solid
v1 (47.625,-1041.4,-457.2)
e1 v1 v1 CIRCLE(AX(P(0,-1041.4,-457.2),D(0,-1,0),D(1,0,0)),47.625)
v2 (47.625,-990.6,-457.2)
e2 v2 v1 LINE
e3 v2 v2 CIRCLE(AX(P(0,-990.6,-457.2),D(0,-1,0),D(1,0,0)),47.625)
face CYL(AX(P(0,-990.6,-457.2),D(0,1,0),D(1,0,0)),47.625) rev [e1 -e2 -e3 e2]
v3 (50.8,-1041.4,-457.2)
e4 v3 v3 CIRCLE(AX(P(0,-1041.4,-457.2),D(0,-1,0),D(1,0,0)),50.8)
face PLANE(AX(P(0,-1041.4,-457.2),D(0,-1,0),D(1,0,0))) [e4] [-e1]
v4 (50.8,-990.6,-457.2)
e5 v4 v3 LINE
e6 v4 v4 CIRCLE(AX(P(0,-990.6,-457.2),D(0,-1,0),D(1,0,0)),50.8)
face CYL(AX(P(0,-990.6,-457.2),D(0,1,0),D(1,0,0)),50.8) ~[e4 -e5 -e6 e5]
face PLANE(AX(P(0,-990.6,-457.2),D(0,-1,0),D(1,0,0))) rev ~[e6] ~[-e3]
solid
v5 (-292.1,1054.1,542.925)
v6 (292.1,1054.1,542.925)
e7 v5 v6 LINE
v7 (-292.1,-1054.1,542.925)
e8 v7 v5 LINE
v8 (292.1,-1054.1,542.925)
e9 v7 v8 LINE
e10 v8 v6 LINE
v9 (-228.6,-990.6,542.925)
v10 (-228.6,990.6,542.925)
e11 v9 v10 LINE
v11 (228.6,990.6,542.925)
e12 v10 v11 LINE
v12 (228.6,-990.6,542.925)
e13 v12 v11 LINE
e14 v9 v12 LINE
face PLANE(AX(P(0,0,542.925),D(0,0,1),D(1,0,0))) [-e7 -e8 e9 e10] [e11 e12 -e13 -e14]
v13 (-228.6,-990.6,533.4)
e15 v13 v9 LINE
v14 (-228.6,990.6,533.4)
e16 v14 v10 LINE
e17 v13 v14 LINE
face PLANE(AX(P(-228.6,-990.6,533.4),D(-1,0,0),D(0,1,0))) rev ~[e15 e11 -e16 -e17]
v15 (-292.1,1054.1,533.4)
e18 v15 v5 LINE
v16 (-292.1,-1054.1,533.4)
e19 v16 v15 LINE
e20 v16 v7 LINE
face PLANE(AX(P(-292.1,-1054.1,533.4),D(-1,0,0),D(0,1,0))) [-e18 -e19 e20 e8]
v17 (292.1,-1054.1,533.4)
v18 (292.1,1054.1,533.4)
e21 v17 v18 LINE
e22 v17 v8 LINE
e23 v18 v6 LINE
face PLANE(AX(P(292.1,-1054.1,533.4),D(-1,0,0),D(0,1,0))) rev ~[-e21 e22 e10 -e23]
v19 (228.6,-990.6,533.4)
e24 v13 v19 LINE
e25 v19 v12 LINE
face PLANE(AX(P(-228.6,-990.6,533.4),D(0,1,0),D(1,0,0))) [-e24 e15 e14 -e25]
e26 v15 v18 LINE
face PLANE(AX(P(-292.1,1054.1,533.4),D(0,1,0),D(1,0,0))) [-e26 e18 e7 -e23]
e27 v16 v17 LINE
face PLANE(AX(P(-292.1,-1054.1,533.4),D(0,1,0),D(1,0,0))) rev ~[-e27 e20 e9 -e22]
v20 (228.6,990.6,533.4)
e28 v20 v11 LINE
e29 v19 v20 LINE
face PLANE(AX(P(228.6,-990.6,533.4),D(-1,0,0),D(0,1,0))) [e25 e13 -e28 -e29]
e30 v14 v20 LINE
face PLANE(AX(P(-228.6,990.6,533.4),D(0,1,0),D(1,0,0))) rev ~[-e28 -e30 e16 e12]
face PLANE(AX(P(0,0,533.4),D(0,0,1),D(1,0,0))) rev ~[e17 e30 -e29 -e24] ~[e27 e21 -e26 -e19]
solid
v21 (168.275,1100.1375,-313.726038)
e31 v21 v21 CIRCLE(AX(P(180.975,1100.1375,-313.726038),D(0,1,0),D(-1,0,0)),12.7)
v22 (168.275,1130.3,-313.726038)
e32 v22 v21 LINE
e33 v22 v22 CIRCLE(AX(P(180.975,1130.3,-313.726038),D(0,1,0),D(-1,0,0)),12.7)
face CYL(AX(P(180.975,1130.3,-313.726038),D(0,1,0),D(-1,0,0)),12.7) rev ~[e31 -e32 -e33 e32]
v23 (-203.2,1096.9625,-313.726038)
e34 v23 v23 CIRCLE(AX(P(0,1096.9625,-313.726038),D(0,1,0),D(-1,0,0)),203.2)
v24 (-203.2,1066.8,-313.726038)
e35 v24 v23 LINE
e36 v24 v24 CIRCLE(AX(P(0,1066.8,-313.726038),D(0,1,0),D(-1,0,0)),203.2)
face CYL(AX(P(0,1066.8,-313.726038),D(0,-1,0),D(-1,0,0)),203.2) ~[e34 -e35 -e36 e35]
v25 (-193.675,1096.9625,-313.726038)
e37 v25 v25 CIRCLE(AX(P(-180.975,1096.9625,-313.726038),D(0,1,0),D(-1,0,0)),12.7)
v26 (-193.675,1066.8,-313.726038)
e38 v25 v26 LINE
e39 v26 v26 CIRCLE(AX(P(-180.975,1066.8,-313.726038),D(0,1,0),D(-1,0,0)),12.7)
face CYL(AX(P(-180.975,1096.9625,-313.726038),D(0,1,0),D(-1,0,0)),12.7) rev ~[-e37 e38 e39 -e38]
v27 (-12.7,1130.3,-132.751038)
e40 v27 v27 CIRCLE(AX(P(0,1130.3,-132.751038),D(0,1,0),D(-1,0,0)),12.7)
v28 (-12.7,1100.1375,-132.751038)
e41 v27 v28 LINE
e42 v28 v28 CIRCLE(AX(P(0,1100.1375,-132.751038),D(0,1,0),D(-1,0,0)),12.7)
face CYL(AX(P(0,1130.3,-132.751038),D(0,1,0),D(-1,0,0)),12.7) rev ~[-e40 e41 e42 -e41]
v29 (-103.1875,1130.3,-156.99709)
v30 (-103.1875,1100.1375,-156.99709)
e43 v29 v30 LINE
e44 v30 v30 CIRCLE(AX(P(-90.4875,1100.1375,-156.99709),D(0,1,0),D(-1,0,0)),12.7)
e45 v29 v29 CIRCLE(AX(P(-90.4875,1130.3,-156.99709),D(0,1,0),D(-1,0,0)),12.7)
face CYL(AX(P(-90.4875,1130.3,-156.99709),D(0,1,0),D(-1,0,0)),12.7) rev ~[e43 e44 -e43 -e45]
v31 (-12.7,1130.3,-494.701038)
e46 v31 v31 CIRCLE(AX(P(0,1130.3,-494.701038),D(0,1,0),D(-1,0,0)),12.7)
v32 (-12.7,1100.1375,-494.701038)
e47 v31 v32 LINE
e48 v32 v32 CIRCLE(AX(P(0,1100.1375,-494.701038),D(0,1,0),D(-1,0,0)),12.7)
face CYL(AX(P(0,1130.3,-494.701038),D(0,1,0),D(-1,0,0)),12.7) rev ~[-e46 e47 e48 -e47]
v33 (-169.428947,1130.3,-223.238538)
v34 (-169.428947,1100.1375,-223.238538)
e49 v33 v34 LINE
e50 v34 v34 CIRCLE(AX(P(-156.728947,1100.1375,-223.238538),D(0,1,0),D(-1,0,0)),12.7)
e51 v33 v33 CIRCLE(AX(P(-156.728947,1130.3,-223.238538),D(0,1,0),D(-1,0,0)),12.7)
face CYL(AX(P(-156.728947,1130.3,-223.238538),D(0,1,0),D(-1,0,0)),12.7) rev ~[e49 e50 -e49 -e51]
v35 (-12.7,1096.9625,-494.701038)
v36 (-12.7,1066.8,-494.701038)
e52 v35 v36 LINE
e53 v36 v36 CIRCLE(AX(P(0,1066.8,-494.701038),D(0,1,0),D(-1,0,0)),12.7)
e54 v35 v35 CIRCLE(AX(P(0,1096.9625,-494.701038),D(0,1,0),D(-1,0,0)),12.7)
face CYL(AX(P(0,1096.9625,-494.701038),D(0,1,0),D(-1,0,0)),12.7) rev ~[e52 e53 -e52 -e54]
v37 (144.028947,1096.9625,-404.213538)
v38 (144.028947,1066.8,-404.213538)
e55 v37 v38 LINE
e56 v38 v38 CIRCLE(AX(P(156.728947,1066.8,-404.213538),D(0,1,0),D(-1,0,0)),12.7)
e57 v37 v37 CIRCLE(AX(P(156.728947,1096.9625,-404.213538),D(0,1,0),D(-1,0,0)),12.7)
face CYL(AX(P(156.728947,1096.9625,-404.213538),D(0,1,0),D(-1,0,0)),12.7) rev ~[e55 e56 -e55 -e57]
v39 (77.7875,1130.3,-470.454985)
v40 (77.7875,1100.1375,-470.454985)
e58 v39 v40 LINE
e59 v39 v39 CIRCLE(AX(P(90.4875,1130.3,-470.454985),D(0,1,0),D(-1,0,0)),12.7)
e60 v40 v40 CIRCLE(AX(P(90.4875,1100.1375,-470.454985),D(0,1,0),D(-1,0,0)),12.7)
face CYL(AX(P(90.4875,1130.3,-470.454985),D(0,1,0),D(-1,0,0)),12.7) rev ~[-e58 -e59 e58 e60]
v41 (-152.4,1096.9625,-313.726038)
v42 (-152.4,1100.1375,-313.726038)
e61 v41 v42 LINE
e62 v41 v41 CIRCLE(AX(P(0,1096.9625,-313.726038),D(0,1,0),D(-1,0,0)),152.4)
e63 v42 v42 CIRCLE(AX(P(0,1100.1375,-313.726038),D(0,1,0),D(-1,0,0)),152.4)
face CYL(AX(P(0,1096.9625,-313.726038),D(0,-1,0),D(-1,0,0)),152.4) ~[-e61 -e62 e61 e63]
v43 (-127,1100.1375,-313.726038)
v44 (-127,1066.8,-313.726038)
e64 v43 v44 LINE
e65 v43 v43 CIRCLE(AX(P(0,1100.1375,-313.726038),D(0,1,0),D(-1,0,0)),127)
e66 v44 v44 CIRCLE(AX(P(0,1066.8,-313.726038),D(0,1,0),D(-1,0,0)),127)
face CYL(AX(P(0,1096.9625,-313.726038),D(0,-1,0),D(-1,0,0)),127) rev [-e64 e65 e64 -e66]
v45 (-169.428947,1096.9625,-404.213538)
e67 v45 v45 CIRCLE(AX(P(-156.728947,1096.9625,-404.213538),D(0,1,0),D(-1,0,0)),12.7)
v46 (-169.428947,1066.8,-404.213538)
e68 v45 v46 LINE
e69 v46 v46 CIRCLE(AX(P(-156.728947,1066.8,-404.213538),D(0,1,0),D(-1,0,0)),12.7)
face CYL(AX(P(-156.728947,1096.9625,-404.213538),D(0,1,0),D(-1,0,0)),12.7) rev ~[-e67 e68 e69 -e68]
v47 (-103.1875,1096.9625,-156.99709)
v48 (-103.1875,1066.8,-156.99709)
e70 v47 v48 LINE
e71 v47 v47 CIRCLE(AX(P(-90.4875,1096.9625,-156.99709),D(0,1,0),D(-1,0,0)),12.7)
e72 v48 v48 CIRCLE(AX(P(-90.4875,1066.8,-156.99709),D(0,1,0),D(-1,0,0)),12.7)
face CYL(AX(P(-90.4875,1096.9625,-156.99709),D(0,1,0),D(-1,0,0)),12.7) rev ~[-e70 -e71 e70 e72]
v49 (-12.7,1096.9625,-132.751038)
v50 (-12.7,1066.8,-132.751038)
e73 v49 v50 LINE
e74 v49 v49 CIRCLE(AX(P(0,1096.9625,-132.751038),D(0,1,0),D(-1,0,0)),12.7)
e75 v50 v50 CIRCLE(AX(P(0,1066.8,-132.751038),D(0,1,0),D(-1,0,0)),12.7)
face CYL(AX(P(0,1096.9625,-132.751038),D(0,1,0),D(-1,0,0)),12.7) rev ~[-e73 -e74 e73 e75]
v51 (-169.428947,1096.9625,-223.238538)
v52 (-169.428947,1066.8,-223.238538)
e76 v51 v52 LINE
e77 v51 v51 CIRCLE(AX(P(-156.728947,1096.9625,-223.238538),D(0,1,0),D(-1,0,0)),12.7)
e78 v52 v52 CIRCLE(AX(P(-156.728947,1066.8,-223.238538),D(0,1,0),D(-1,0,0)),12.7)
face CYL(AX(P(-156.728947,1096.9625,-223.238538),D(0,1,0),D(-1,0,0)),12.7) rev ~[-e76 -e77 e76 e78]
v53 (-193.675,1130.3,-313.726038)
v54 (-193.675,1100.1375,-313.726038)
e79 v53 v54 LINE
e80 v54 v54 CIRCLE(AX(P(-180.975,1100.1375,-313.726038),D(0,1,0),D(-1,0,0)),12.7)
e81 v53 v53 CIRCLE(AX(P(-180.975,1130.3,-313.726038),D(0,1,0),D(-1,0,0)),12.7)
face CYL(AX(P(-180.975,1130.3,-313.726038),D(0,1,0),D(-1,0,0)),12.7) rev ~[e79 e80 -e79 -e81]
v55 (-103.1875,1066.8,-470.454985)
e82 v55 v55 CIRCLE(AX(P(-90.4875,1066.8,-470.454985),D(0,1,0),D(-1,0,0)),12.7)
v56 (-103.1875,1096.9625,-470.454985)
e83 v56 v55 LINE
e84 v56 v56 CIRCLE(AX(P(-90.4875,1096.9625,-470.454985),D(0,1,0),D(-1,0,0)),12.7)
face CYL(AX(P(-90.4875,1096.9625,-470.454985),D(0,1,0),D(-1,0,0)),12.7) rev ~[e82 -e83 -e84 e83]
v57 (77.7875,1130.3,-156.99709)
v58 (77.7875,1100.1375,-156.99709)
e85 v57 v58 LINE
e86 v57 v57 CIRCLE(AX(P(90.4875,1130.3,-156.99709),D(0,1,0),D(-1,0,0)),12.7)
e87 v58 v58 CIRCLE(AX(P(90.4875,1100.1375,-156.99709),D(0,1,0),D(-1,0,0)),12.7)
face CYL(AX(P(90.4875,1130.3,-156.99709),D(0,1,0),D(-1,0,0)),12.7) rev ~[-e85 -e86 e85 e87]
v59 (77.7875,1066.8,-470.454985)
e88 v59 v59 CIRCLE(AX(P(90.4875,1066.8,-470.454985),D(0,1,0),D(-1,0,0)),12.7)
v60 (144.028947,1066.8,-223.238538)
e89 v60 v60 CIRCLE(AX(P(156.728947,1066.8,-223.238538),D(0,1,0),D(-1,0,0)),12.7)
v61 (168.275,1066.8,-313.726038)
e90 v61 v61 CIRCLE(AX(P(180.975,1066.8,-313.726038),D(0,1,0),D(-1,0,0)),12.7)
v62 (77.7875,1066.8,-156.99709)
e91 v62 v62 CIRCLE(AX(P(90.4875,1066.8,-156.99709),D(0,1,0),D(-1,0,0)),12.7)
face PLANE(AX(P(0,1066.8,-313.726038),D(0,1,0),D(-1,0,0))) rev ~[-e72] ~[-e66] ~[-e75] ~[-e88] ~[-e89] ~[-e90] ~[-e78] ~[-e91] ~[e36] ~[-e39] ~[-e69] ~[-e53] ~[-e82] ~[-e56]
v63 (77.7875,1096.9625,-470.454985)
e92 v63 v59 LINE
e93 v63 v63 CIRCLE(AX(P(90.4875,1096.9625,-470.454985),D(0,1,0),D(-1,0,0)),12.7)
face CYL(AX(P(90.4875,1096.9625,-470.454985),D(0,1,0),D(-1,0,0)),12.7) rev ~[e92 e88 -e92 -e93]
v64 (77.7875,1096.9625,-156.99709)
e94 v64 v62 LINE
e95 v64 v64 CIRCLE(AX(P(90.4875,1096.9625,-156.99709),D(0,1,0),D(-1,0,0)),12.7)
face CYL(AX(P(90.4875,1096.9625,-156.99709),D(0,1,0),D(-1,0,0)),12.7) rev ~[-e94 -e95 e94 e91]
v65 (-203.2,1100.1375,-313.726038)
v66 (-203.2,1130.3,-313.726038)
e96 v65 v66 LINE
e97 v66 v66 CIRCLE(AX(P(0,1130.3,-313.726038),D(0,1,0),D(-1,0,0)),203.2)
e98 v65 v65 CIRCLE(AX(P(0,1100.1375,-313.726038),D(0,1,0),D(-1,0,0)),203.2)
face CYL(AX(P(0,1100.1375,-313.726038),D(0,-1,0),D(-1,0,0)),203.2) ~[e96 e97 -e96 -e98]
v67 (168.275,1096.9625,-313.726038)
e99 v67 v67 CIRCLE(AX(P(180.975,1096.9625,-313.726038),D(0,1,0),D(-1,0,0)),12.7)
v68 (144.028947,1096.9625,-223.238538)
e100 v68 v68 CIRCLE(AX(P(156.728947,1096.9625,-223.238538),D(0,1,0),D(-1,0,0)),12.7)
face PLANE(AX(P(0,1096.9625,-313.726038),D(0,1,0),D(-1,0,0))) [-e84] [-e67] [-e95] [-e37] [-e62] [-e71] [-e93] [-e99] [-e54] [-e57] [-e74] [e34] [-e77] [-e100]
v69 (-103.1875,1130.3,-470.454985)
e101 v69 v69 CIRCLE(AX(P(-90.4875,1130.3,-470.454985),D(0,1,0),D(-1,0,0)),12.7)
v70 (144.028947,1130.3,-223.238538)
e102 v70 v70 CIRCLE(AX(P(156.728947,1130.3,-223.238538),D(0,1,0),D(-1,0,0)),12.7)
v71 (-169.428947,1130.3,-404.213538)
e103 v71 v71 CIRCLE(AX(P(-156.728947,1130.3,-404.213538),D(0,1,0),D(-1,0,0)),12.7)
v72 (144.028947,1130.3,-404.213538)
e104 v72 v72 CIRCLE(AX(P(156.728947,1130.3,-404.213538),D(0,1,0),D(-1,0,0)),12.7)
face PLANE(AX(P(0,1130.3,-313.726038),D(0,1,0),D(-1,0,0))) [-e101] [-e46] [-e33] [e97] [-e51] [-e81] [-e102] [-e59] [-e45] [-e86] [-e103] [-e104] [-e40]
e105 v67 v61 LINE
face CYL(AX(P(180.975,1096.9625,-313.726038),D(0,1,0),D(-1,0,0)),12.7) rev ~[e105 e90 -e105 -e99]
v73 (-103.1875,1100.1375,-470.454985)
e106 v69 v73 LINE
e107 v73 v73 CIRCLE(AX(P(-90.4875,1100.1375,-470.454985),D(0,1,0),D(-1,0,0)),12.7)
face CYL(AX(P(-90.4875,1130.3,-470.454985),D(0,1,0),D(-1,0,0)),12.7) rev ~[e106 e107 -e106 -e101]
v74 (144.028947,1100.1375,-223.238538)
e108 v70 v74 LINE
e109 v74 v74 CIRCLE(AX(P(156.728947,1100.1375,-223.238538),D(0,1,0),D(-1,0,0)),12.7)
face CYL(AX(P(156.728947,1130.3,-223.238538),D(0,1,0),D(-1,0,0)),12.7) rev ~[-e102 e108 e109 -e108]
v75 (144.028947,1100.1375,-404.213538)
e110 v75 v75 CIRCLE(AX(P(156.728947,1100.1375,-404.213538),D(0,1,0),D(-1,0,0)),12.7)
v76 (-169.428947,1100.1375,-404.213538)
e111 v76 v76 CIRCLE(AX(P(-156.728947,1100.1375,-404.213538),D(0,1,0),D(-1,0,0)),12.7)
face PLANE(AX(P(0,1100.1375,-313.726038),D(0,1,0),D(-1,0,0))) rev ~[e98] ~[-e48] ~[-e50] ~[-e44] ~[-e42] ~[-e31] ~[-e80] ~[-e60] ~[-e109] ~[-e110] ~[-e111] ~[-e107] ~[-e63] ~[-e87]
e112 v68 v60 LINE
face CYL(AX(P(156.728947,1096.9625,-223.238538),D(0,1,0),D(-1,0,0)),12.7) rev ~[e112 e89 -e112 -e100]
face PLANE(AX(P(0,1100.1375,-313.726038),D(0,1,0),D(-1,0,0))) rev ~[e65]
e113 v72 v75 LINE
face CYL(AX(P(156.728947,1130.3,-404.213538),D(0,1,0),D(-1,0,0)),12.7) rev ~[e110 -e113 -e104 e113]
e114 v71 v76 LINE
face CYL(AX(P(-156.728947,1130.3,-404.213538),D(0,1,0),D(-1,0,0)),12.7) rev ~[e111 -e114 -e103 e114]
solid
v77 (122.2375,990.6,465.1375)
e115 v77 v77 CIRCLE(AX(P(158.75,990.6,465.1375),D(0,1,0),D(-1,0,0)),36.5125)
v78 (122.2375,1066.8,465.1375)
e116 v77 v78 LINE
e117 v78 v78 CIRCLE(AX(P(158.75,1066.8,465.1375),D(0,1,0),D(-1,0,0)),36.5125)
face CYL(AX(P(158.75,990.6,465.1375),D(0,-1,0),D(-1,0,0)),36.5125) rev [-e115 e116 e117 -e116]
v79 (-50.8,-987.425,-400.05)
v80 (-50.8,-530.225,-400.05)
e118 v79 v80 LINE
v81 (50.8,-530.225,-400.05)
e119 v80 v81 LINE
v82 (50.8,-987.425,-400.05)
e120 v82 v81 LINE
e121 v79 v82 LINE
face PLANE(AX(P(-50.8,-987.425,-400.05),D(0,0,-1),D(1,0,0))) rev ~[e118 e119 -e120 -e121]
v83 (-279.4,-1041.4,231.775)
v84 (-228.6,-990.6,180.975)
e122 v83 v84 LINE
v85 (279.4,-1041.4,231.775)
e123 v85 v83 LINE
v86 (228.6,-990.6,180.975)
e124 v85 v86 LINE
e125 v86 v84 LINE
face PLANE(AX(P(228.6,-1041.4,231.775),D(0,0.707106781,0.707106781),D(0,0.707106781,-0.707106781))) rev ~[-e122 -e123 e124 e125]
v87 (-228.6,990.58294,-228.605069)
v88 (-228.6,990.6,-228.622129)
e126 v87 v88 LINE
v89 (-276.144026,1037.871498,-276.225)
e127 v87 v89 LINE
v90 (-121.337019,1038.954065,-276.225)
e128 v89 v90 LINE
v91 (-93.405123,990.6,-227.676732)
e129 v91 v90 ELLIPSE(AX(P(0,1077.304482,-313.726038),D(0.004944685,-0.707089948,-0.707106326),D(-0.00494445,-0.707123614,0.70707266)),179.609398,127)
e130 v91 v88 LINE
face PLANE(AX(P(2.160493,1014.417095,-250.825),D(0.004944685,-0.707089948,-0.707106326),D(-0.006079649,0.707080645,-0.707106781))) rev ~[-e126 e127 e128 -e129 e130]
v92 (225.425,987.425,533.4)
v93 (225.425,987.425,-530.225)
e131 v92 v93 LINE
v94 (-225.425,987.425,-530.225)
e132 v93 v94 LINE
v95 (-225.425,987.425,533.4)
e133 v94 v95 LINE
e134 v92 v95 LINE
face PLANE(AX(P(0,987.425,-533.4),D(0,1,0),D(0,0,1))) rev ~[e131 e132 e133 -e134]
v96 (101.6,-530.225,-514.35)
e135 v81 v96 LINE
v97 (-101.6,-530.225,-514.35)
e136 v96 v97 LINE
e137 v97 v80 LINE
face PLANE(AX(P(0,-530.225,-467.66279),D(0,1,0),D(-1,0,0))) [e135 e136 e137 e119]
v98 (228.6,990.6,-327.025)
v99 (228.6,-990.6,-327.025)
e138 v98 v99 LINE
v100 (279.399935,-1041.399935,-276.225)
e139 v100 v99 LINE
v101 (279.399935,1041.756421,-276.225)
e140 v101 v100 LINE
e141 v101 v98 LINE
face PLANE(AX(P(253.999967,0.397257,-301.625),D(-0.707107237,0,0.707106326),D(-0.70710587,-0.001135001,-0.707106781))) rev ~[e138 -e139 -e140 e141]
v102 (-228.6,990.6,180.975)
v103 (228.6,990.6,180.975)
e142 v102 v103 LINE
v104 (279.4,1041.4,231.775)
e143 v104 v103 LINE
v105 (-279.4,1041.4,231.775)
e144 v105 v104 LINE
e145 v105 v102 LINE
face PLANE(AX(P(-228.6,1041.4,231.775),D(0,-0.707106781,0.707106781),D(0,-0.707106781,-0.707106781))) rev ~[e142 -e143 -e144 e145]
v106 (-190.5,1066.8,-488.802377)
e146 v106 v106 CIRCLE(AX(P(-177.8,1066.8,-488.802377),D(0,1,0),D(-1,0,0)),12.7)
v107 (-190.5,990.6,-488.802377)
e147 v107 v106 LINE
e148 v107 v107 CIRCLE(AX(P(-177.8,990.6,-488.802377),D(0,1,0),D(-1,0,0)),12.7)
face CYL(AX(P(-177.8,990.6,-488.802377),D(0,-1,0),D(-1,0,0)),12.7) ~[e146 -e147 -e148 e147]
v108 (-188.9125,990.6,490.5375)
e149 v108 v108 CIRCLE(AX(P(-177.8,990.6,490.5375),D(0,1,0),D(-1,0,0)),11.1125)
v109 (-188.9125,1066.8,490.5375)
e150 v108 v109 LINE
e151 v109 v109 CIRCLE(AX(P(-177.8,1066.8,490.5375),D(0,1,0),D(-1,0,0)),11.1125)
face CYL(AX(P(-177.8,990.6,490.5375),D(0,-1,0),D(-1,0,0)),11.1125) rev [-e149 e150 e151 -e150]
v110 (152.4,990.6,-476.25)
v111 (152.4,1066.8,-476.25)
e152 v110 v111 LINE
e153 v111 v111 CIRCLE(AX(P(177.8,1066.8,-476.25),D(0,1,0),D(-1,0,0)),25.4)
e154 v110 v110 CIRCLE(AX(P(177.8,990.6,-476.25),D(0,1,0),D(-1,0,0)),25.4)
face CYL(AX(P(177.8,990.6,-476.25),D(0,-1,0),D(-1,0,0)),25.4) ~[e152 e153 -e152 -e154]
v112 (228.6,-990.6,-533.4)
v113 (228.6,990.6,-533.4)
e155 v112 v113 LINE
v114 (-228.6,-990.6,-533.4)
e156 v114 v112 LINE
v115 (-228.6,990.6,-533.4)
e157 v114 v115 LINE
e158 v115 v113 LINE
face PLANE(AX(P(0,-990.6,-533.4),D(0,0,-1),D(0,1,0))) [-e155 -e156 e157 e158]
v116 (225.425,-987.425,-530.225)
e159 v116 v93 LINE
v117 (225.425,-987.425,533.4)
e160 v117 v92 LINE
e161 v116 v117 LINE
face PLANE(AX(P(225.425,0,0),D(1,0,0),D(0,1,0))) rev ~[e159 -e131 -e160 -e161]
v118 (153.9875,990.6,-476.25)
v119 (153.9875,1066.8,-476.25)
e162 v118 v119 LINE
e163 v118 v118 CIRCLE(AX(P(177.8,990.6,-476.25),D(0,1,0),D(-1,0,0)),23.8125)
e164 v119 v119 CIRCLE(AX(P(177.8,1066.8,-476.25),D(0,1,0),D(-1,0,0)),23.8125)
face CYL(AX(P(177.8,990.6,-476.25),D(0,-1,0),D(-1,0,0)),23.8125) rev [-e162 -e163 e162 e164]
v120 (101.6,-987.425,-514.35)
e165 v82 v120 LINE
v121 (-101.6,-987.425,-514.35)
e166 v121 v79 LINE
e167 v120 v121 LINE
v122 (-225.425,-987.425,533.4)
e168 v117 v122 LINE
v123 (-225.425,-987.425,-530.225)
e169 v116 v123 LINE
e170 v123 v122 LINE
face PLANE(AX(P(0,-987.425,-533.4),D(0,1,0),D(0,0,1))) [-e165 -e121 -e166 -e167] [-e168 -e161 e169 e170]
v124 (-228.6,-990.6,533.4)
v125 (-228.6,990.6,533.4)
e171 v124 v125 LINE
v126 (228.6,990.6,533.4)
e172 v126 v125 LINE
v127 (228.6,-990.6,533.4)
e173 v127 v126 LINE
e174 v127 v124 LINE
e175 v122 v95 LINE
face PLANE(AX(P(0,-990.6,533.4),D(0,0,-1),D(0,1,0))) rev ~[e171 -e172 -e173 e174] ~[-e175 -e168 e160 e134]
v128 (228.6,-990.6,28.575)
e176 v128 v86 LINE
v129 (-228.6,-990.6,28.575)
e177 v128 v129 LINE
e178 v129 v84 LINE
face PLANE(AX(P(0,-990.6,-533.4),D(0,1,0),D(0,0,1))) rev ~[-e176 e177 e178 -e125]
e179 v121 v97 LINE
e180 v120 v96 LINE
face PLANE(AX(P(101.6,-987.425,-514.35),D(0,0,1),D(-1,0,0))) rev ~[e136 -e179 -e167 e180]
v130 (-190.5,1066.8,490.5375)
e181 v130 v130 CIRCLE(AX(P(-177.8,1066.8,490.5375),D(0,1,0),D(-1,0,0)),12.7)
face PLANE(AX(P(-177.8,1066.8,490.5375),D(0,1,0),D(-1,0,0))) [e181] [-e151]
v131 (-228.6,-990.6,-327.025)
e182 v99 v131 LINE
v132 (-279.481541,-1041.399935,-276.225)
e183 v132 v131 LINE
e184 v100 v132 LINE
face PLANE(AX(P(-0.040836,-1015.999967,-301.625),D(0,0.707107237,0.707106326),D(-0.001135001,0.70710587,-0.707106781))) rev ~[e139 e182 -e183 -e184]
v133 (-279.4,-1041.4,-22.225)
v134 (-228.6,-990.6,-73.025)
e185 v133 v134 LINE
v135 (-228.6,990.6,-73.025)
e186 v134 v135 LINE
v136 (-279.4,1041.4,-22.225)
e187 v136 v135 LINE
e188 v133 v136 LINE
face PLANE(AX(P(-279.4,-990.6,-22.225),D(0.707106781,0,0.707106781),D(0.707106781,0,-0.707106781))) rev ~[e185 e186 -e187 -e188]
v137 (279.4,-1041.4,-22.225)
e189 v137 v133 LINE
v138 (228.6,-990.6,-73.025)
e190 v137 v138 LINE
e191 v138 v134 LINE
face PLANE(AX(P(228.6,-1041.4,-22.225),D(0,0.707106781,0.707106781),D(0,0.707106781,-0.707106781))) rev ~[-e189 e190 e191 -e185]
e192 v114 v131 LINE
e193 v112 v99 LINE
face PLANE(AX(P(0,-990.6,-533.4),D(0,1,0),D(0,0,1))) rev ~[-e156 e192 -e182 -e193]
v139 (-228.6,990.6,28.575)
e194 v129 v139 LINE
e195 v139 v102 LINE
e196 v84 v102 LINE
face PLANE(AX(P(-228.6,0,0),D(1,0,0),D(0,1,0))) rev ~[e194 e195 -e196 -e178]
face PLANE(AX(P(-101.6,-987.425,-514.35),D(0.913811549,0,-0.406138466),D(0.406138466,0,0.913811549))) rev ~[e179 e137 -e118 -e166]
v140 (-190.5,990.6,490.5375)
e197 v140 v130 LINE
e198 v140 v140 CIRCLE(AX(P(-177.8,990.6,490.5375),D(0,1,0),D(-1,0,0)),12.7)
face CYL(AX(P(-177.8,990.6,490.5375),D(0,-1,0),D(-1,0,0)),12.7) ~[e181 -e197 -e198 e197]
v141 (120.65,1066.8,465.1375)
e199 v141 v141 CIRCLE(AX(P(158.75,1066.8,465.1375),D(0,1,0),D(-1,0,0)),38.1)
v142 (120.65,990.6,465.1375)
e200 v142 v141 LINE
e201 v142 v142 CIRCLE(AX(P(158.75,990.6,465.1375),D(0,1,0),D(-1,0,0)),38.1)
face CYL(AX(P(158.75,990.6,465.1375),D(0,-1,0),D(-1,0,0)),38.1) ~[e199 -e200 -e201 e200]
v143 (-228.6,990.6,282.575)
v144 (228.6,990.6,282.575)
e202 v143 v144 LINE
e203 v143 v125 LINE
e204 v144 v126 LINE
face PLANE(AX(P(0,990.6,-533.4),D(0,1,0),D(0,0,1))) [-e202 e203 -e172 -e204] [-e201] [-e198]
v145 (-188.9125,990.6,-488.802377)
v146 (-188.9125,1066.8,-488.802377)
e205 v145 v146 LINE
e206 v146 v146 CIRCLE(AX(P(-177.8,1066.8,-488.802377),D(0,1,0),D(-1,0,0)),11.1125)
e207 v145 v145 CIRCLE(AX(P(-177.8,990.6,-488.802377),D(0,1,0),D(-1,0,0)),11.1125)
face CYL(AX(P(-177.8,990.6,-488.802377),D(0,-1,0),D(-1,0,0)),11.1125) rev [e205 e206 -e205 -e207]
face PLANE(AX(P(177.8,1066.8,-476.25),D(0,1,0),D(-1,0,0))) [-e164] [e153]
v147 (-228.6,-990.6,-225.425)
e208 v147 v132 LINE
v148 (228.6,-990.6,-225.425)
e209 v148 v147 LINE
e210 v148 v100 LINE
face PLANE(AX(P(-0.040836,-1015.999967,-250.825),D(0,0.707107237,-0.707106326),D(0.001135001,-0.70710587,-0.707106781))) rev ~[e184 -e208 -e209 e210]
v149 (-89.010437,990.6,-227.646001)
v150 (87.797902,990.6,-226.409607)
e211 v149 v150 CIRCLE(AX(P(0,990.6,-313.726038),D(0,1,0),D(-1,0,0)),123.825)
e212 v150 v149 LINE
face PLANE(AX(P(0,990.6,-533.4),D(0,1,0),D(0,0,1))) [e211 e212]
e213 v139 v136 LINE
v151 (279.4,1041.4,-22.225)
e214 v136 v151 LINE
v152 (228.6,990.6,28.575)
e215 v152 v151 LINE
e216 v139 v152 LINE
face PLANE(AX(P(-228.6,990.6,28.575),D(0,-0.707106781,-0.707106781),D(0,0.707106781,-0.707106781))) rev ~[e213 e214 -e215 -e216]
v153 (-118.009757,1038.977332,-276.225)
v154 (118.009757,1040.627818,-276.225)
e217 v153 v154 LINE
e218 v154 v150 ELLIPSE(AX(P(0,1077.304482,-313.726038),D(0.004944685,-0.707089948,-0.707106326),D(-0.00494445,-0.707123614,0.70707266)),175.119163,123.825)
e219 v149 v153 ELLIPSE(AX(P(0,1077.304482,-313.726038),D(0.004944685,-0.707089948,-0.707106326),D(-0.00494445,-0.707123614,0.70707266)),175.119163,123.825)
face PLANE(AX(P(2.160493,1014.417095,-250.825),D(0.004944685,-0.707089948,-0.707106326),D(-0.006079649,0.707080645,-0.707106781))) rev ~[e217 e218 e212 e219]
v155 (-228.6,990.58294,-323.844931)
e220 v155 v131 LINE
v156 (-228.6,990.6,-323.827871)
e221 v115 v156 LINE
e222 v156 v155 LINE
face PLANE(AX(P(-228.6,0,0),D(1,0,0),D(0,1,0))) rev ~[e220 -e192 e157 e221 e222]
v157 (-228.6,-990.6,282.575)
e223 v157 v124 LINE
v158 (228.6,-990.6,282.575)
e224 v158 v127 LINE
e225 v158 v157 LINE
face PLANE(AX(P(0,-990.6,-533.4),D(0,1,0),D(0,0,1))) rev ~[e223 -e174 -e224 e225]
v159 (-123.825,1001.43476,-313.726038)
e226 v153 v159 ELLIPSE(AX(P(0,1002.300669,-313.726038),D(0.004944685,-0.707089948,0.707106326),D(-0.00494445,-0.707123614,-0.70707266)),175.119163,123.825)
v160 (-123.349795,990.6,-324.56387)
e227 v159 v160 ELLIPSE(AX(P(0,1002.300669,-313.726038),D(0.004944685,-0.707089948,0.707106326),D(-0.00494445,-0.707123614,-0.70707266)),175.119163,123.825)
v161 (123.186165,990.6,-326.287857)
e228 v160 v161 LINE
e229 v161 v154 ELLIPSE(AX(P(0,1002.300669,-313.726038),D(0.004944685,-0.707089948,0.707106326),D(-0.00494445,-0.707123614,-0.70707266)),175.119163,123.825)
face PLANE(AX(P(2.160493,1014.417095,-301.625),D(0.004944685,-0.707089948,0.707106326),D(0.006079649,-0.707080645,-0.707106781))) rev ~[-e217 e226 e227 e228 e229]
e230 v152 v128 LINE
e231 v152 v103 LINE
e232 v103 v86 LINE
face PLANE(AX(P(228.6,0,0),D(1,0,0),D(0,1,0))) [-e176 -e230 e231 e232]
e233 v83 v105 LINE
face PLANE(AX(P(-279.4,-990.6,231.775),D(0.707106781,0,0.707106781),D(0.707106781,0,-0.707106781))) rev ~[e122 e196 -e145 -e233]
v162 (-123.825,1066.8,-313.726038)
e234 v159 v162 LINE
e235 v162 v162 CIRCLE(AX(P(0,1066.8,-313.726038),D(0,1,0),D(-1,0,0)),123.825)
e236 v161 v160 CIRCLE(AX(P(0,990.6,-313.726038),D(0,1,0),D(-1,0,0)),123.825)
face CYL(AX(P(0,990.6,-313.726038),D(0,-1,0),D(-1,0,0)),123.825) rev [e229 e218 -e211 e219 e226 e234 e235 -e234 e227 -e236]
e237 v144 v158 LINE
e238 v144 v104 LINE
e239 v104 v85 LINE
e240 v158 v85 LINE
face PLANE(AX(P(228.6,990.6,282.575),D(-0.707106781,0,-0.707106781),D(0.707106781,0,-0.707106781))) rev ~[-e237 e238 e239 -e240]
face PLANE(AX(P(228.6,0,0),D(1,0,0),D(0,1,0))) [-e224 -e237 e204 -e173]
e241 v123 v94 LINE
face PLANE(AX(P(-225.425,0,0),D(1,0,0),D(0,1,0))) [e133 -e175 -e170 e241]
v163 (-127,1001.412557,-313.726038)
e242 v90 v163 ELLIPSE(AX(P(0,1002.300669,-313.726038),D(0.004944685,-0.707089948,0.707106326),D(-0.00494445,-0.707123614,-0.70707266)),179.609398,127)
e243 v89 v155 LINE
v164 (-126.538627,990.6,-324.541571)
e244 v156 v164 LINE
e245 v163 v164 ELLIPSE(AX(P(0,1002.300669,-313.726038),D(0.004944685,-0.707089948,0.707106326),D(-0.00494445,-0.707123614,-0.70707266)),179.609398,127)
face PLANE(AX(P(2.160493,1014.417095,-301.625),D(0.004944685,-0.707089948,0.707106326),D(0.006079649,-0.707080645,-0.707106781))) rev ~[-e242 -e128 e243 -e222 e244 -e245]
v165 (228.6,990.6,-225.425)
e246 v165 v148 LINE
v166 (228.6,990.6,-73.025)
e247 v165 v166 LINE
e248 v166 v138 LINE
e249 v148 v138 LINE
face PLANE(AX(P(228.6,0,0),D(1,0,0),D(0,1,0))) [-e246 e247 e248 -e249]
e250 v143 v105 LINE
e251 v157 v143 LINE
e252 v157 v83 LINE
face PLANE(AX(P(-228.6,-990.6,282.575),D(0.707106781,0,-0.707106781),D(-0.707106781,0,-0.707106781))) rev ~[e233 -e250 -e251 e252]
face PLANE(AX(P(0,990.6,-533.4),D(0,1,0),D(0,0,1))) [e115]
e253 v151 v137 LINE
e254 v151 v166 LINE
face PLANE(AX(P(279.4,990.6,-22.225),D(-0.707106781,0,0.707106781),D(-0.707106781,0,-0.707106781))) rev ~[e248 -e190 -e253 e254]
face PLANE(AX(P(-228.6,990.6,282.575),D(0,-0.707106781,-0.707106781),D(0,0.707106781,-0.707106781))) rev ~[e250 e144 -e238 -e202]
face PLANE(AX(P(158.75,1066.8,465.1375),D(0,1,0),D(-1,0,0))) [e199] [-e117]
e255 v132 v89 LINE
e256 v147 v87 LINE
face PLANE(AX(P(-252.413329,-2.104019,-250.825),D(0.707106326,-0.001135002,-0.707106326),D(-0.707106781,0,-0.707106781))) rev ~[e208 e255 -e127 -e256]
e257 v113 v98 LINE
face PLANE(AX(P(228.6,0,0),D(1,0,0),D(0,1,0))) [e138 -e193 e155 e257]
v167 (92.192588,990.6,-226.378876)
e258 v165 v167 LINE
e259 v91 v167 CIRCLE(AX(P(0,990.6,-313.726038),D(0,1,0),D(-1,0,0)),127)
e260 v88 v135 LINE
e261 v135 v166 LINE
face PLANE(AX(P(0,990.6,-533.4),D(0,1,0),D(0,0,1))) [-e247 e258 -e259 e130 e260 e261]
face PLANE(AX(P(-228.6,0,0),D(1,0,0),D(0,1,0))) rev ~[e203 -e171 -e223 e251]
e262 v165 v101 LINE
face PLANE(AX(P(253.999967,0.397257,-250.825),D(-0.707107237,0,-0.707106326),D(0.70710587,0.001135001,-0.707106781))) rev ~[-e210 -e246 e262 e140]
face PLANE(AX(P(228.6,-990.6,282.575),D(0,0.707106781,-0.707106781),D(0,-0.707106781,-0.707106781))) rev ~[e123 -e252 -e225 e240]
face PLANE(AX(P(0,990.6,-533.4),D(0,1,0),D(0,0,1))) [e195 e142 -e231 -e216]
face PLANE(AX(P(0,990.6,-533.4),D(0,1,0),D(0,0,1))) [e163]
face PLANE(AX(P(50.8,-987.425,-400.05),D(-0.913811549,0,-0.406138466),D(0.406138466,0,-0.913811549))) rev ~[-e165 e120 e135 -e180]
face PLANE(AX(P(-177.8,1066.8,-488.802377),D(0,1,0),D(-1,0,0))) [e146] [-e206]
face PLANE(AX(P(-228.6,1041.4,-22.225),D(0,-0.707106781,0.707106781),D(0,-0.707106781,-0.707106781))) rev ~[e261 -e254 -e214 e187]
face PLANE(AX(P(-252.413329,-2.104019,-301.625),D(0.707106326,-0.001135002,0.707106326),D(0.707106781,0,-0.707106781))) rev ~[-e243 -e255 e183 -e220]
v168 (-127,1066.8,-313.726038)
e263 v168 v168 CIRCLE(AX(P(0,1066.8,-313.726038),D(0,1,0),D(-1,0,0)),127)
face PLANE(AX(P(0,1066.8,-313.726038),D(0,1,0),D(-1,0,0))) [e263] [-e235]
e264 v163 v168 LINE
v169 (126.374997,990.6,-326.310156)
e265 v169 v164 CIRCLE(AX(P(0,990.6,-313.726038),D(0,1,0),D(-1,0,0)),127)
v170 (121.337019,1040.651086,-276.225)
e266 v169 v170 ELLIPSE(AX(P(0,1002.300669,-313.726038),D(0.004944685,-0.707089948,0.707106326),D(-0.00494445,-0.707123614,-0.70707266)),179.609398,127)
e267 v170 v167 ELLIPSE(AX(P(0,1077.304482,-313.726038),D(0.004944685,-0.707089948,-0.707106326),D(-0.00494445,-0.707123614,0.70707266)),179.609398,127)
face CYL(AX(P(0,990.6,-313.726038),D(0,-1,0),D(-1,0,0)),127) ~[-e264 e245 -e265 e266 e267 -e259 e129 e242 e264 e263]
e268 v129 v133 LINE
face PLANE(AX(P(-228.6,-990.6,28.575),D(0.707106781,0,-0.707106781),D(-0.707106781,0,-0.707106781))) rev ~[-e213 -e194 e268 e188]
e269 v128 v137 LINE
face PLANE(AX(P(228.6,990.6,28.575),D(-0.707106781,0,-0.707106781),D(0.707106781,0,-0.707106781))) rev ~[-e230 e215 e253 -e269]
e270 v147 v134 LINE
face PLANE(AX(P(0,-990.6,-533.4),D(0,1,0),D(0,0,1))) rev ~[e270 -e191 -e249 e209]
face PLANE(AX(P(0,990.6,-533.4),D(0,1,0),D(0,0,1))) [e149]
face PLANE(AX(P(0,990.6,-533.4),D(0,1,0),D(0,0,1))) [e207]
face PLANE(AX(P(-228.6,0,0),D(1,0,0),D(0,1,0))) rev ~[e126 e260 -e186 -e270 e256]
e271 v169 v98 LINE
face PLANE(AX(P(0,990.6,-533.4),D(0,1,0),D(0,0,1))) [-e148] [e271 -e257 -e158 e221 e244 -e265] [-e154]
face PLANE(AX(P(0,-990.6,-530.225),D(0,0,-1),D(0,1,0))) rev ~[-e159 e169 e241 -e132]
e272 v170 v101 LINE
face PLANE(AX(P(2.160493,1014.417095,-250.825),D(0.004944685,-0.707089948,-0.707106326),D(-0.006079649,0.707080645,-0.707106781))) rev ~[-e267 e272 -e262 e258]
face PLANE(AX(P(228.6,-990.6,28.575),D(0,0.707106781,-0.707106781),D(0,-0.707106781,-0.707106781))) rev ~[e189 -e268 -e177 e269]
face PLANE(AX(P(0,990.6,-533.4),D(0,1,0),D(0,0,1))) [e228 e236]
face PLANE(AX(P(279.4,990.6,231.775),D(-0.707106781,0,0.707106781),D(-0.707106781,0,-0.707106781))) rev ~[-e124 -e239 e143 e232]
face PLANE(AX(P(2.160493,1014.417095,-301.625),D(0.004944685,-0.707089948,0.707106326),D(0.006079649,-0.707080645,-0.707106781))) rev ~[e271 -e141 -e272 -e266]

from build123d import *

# Parameters (mm, degrees)
F0_W      = 1981.2
F0_H      = 1066.8
F1_DEPTH  = 228.6
F2_T      = -3.175
F3_R      = 50.8
F3_R_2    = 47.625
F4_DEPTH  = 50.8
F6_DEPTH  = 457.2
F7_R      = 127
F7_R_2    = 123.825
F8_DEPTH  = 76.2
F9_R      = 203.2
F9_R_2    = 127
F10_DEPTH = 30.1625
F11_R     = 12.7
F12_DEPTH = 30.1625
F14_R     = 152.4
F14_R_2   = 127
F15_DEPTH = 3.175
F16_R     = 203.2
F17_DEPTH = 30.1625
F18_R     = 12.7
F19_DEPTH = 30.1625
F20_R     = 38.1
F20_R_2   = 36.5125
F20_R_3   = 25.4
F20_R_4   = 23.8125
F20_R_5   = 12.7
F20_R_6   = 11.1125
F21_DEPTH = 76.2
F33_W     = 584.2
F33_H     = 2108.2
F33_W_2   = 457.2
F33_H_2   = 1981.2
F35_DEPTH = 9.525


with BuildPart() as f1:
    # F0 (on Right) → F1 (new body, symmetric)
    with BuildSketch(Plane.YZ):
        Rectangle(F0_W, F0_H)
    extrude(amount=F1_DEPTH, both=True)

    # F2
    f2_openings = [f1.faces().sort_by_distance(p)[0] for p in [
        (0, 0, 533.4),
    ]]
    offset(amount=F2_T, openings=f2_openings)

    # F5 (on face) → F6 (join)
    with BuildSketch(Plane(origin=(0, -987.425, 0), x_dir=(-1, 0, 0), z_dir=(0, 1, 0))):
        Polygon((-50.8, -400.05), (-101.6, -514.35), (101.6, -514.35), (50.8, -400.05), align=None)
    extrude(amount=F6_DEPTH)

    # F7 (on face) → F8 (join)
    with BuildSketch(Plane(origin=(0, 990.6, 0), x_dir=(-1, 0, 0), z_dir=(0, 1, 0))):
        with Locations((0, -313.7260377407)):
            Circle(F7_R)
        with Locations((0, -313.7260377407)):
            Circle(F7_R_2, mode=Mode.SUBTRACT)
    extrude(amount=F8_DEPTH)

    # F20 (on face) → F21 (join)
    with BuildSketch(Plane(origin=(0, 990.6, 0), x_dir=(-1, 0, 0), z_dir=(0, 1, 0))):
        with Locations((-158.75, 465.1375)):
            Circle(F20_R)
        with Locations((-158.75, 465.1375)):
            Circle(F20_R_2, mode=Mode.SUBTRACT)
        with Locations((-177.8, -476.25)):
            Circle(F20_R_3)
        with Locations((-177.8, -476.25)):
            Circle(F20_R_4, mode=Mode.SUBTRACT)
        with Locations((177.8, 490.5375)):
            Circle(F20_R_5)
        with Locations((177.8, 490.5375)):
            Circle(F20_R_6, mode=Mode.SUBTRACT)
        with Locations((177.8, -488.8023771712)):
            Circle(F20_R_5)
        with Locations((177.8, -488.8023771712)):
            Circle(F20_R_6, mode=Mode.SUBTRACT)
    extrude(amount=F21_DEPTH)

    # F25: sweep along a path in F23
    with BuildLine(Plane.XY.offset(-276.225)) as f25_path:
        Line((-228.6, -990.6), (-225.425, 987.425))
        Line((-225.425, 987.425), (228.6, 990.6))
        Line((228.6, 990.6), (228.6, -990.6))
        Line((228.6, -990.6), (-228.6, -990.6))
    # F24 (on face) → F25 (sweep)
    with BuildSketch(Plane.XZ.offset(990.6)):
        Polygon((-228.6, -327.025), (-228.6, -276.225), (-228.6, -225.425), (-279.4, -276.225), align=None)
    sweep(path=f25_path.line, transition=Transition.RIGHT)

    # F32: sweep along a path in F30
    with BuildLine(Plane.XY.offset(231.775)) as f32_path:
        Line((-228.6, -990.6), (-228.6, 990.6))
        Line((-228.6, 990.6), (228.6, 990.6))
        Line((228.6, 990.6), (228.6, -990.6))
        Line((228.6, -990.6), (-228.6, -990.6))
    # F31 (on face) → F32 (sweep)
    with BuildSketch(Plane.XZ.offset(990.6)):
        Polygon((-228.6, 180.975), (-228.6, 231.775), (-228.6, 282.575), (-279.4, 231.775), align=None)
    sweep(path=f32_path.line, transition=Transition.RIGHT)

    # F34: sweep along a path in F27
    with BuildLine(Plane.XY.offset(-22.225)) as f34_path:
        Line((-228.6, -990.6), (-228.6, 990.6))
        Line((-228.6, 990.6), (228.6, 990.6))
        Line((228.6, 990.6), (228.6, -990.6))
        Line((228.6, -990.6), (-228.6, -990.6))
    # F28 (on face) → F34 (sweep)
    with BuildSketch(Plane.XZ.offset(990.6)):
        Polygon((-228.6, -73.025), (-228.6, -22.225), (-228.6, 28.575), (-279.4, -22.225), align=None)
    sweep(path=f34_path.line, transition=Transition.RIGHT)


with BuildPart() as f4:
    # F3 (on face) → F4 (new body)
    with BuildSketch(Plane.XZ.offset(990.6)):
        with Locations((0, -457.2)):
            Circle(F3_R)
        with Locations((0, -457.2)):
            Circle(F3_R_2, mode=Mode.SUBTRACT)
    extrude(amount=F4_DEPTH)


with BuildPart() as f10:
    # F9 (on face) → F10 (new body)
    with BuildSketch(Plane(origin=(0, 1066.8, 0), x_dir=(-1, 0, 0), z_dir=(0, 1, 0))):
        with Locations((0, -313.7260377407)):
            Circle(F9_R)
        with Locations((0, -313.7260377407)):
            Circle(F9_R_2, mode=Mode.SUBTRACT)
    extrude(amount=F10_DEPTH)

    # F11 (on face) → F12 (cut, through all)
    with BuildSketch(Plane(origin=(0, 1096.9625, 0), x_dir=(-1, 0, 0), z_dir=(0, 1, 0))):
        with Locations((0, -132.7510377407)):
            Circle(F11_R)
        with Locations((-90.4875, -156.9970902908)):
            Circle(F11_R)
        with Locations((-156.7289474499, -223.2385377407)):
            Circle(F11_R)
        with Locations((-180.975, -313.7260377407)):
            Circle(F11_R)
        with Locations((-156.7289474499, -404.2135377407)):
            Circle(F11_R)
        with Locations((-90.4875, -470.4549851906)):
            Circle(F11_R)
        with Locations((0, -494.7010377407)):
            Circle(F11_R)
        with Locations((90.4875, -470.4549851906)):
            Circle(F11_R)
        with Locations((156.7289474499, -404.2135377407)):
            Circle(F11_R)
        with Locations((180.975, -313.7260377407)):
            Circle(F11_R)
        with Locations((156.7289474499, -223.2385377407)):
            Circle(F11_R)
        with Locations((90.4875, -156.9970902908)):
            Circle(F11_R)
    extrude(amount=-F12_DEPTH, mode=Mode.SUBTRACT)

    # F14 (on face) → F15 (join)
    with BuildSketch(Plane(origin=(0, 1096.9625, 0), x_dir=(-1, 0, 0), z_dir=(0, 1, 0))):
        with Locations((0, -313.7260377407)):
            Circle(F14_R)
        with Locations((0, -313.7260377407)):
            Circle(F14_R_2, mode=Mode.SUBTRACT)
    extrude(amount=F15_DEPTH)

    # F16 (on face) → F17 (join)
    with BuildSketch(Plane(origin=(0, 1100.1375, 0), x_dir=(-1, 0, 0), z_dir=(0, 1, 0))):
        with Locations((0, -313.7260377407)):
            Circle(F16_R)
    extrude(amount=F17_DEPTH)

    # F18 (on face) → F19 (cut, through all)
    with BuildSketch(Plane(origin=(0, 1130.3, 0), x_dir=(-1, 0, 0), z_dir=(0, 1, 0))):
        with Locations((0, -132.7510377407)):
            Circle(F18_R)
        with Locations((-90.4875, -156.9970902908)):
            Circle(F18_R)
        with Locations((-156.7289474499, -223.2385377407)):
            Circle(F18_R)
        with Locations((-180.975, -313.7260377407)):
            Circle(F18_R)
        with Locations((-156.7289474499, -404.2135377407)):
            Circle(F18_R)
        with Locations((-90.4875, -470.4549851906)):
            Circle(F18_R)
        with Locations((0, -494.7010377407)):
            Circle(F18_R)
        with Locations((90.4875, -470.4549851906)):
            Circle(F18_R)
        with Locations((156.7289474499, -404.2135377407)):
            Circle(F18_R)
        with Locations((180.975, -313.7260377407)):
            Circle(F18_R)
        with Locations((156.7289474499, -223.2385377407)):
            Circle(F18_R)
        with Locations((90.4875, -156.9970902908)):
            Circle(F18_R)
    extrude(amount=-F19_DEPTH, mode=Mode.SUBTRACT)


with BuildPart() as f35:
    # F33 (on face) → F35 (new body)
    with BuildSketch(Plane.XY.offset(533.4)):
        Rectangle(F33_W, F33_H)
        Rectangle(F33_W_2, F33_H_2, mode=Mode.SUBTRACT)
    extrude(amount=F35_DEPTH)


solid = Compound([f1.part, f4.part, f10.part, f35.part])
